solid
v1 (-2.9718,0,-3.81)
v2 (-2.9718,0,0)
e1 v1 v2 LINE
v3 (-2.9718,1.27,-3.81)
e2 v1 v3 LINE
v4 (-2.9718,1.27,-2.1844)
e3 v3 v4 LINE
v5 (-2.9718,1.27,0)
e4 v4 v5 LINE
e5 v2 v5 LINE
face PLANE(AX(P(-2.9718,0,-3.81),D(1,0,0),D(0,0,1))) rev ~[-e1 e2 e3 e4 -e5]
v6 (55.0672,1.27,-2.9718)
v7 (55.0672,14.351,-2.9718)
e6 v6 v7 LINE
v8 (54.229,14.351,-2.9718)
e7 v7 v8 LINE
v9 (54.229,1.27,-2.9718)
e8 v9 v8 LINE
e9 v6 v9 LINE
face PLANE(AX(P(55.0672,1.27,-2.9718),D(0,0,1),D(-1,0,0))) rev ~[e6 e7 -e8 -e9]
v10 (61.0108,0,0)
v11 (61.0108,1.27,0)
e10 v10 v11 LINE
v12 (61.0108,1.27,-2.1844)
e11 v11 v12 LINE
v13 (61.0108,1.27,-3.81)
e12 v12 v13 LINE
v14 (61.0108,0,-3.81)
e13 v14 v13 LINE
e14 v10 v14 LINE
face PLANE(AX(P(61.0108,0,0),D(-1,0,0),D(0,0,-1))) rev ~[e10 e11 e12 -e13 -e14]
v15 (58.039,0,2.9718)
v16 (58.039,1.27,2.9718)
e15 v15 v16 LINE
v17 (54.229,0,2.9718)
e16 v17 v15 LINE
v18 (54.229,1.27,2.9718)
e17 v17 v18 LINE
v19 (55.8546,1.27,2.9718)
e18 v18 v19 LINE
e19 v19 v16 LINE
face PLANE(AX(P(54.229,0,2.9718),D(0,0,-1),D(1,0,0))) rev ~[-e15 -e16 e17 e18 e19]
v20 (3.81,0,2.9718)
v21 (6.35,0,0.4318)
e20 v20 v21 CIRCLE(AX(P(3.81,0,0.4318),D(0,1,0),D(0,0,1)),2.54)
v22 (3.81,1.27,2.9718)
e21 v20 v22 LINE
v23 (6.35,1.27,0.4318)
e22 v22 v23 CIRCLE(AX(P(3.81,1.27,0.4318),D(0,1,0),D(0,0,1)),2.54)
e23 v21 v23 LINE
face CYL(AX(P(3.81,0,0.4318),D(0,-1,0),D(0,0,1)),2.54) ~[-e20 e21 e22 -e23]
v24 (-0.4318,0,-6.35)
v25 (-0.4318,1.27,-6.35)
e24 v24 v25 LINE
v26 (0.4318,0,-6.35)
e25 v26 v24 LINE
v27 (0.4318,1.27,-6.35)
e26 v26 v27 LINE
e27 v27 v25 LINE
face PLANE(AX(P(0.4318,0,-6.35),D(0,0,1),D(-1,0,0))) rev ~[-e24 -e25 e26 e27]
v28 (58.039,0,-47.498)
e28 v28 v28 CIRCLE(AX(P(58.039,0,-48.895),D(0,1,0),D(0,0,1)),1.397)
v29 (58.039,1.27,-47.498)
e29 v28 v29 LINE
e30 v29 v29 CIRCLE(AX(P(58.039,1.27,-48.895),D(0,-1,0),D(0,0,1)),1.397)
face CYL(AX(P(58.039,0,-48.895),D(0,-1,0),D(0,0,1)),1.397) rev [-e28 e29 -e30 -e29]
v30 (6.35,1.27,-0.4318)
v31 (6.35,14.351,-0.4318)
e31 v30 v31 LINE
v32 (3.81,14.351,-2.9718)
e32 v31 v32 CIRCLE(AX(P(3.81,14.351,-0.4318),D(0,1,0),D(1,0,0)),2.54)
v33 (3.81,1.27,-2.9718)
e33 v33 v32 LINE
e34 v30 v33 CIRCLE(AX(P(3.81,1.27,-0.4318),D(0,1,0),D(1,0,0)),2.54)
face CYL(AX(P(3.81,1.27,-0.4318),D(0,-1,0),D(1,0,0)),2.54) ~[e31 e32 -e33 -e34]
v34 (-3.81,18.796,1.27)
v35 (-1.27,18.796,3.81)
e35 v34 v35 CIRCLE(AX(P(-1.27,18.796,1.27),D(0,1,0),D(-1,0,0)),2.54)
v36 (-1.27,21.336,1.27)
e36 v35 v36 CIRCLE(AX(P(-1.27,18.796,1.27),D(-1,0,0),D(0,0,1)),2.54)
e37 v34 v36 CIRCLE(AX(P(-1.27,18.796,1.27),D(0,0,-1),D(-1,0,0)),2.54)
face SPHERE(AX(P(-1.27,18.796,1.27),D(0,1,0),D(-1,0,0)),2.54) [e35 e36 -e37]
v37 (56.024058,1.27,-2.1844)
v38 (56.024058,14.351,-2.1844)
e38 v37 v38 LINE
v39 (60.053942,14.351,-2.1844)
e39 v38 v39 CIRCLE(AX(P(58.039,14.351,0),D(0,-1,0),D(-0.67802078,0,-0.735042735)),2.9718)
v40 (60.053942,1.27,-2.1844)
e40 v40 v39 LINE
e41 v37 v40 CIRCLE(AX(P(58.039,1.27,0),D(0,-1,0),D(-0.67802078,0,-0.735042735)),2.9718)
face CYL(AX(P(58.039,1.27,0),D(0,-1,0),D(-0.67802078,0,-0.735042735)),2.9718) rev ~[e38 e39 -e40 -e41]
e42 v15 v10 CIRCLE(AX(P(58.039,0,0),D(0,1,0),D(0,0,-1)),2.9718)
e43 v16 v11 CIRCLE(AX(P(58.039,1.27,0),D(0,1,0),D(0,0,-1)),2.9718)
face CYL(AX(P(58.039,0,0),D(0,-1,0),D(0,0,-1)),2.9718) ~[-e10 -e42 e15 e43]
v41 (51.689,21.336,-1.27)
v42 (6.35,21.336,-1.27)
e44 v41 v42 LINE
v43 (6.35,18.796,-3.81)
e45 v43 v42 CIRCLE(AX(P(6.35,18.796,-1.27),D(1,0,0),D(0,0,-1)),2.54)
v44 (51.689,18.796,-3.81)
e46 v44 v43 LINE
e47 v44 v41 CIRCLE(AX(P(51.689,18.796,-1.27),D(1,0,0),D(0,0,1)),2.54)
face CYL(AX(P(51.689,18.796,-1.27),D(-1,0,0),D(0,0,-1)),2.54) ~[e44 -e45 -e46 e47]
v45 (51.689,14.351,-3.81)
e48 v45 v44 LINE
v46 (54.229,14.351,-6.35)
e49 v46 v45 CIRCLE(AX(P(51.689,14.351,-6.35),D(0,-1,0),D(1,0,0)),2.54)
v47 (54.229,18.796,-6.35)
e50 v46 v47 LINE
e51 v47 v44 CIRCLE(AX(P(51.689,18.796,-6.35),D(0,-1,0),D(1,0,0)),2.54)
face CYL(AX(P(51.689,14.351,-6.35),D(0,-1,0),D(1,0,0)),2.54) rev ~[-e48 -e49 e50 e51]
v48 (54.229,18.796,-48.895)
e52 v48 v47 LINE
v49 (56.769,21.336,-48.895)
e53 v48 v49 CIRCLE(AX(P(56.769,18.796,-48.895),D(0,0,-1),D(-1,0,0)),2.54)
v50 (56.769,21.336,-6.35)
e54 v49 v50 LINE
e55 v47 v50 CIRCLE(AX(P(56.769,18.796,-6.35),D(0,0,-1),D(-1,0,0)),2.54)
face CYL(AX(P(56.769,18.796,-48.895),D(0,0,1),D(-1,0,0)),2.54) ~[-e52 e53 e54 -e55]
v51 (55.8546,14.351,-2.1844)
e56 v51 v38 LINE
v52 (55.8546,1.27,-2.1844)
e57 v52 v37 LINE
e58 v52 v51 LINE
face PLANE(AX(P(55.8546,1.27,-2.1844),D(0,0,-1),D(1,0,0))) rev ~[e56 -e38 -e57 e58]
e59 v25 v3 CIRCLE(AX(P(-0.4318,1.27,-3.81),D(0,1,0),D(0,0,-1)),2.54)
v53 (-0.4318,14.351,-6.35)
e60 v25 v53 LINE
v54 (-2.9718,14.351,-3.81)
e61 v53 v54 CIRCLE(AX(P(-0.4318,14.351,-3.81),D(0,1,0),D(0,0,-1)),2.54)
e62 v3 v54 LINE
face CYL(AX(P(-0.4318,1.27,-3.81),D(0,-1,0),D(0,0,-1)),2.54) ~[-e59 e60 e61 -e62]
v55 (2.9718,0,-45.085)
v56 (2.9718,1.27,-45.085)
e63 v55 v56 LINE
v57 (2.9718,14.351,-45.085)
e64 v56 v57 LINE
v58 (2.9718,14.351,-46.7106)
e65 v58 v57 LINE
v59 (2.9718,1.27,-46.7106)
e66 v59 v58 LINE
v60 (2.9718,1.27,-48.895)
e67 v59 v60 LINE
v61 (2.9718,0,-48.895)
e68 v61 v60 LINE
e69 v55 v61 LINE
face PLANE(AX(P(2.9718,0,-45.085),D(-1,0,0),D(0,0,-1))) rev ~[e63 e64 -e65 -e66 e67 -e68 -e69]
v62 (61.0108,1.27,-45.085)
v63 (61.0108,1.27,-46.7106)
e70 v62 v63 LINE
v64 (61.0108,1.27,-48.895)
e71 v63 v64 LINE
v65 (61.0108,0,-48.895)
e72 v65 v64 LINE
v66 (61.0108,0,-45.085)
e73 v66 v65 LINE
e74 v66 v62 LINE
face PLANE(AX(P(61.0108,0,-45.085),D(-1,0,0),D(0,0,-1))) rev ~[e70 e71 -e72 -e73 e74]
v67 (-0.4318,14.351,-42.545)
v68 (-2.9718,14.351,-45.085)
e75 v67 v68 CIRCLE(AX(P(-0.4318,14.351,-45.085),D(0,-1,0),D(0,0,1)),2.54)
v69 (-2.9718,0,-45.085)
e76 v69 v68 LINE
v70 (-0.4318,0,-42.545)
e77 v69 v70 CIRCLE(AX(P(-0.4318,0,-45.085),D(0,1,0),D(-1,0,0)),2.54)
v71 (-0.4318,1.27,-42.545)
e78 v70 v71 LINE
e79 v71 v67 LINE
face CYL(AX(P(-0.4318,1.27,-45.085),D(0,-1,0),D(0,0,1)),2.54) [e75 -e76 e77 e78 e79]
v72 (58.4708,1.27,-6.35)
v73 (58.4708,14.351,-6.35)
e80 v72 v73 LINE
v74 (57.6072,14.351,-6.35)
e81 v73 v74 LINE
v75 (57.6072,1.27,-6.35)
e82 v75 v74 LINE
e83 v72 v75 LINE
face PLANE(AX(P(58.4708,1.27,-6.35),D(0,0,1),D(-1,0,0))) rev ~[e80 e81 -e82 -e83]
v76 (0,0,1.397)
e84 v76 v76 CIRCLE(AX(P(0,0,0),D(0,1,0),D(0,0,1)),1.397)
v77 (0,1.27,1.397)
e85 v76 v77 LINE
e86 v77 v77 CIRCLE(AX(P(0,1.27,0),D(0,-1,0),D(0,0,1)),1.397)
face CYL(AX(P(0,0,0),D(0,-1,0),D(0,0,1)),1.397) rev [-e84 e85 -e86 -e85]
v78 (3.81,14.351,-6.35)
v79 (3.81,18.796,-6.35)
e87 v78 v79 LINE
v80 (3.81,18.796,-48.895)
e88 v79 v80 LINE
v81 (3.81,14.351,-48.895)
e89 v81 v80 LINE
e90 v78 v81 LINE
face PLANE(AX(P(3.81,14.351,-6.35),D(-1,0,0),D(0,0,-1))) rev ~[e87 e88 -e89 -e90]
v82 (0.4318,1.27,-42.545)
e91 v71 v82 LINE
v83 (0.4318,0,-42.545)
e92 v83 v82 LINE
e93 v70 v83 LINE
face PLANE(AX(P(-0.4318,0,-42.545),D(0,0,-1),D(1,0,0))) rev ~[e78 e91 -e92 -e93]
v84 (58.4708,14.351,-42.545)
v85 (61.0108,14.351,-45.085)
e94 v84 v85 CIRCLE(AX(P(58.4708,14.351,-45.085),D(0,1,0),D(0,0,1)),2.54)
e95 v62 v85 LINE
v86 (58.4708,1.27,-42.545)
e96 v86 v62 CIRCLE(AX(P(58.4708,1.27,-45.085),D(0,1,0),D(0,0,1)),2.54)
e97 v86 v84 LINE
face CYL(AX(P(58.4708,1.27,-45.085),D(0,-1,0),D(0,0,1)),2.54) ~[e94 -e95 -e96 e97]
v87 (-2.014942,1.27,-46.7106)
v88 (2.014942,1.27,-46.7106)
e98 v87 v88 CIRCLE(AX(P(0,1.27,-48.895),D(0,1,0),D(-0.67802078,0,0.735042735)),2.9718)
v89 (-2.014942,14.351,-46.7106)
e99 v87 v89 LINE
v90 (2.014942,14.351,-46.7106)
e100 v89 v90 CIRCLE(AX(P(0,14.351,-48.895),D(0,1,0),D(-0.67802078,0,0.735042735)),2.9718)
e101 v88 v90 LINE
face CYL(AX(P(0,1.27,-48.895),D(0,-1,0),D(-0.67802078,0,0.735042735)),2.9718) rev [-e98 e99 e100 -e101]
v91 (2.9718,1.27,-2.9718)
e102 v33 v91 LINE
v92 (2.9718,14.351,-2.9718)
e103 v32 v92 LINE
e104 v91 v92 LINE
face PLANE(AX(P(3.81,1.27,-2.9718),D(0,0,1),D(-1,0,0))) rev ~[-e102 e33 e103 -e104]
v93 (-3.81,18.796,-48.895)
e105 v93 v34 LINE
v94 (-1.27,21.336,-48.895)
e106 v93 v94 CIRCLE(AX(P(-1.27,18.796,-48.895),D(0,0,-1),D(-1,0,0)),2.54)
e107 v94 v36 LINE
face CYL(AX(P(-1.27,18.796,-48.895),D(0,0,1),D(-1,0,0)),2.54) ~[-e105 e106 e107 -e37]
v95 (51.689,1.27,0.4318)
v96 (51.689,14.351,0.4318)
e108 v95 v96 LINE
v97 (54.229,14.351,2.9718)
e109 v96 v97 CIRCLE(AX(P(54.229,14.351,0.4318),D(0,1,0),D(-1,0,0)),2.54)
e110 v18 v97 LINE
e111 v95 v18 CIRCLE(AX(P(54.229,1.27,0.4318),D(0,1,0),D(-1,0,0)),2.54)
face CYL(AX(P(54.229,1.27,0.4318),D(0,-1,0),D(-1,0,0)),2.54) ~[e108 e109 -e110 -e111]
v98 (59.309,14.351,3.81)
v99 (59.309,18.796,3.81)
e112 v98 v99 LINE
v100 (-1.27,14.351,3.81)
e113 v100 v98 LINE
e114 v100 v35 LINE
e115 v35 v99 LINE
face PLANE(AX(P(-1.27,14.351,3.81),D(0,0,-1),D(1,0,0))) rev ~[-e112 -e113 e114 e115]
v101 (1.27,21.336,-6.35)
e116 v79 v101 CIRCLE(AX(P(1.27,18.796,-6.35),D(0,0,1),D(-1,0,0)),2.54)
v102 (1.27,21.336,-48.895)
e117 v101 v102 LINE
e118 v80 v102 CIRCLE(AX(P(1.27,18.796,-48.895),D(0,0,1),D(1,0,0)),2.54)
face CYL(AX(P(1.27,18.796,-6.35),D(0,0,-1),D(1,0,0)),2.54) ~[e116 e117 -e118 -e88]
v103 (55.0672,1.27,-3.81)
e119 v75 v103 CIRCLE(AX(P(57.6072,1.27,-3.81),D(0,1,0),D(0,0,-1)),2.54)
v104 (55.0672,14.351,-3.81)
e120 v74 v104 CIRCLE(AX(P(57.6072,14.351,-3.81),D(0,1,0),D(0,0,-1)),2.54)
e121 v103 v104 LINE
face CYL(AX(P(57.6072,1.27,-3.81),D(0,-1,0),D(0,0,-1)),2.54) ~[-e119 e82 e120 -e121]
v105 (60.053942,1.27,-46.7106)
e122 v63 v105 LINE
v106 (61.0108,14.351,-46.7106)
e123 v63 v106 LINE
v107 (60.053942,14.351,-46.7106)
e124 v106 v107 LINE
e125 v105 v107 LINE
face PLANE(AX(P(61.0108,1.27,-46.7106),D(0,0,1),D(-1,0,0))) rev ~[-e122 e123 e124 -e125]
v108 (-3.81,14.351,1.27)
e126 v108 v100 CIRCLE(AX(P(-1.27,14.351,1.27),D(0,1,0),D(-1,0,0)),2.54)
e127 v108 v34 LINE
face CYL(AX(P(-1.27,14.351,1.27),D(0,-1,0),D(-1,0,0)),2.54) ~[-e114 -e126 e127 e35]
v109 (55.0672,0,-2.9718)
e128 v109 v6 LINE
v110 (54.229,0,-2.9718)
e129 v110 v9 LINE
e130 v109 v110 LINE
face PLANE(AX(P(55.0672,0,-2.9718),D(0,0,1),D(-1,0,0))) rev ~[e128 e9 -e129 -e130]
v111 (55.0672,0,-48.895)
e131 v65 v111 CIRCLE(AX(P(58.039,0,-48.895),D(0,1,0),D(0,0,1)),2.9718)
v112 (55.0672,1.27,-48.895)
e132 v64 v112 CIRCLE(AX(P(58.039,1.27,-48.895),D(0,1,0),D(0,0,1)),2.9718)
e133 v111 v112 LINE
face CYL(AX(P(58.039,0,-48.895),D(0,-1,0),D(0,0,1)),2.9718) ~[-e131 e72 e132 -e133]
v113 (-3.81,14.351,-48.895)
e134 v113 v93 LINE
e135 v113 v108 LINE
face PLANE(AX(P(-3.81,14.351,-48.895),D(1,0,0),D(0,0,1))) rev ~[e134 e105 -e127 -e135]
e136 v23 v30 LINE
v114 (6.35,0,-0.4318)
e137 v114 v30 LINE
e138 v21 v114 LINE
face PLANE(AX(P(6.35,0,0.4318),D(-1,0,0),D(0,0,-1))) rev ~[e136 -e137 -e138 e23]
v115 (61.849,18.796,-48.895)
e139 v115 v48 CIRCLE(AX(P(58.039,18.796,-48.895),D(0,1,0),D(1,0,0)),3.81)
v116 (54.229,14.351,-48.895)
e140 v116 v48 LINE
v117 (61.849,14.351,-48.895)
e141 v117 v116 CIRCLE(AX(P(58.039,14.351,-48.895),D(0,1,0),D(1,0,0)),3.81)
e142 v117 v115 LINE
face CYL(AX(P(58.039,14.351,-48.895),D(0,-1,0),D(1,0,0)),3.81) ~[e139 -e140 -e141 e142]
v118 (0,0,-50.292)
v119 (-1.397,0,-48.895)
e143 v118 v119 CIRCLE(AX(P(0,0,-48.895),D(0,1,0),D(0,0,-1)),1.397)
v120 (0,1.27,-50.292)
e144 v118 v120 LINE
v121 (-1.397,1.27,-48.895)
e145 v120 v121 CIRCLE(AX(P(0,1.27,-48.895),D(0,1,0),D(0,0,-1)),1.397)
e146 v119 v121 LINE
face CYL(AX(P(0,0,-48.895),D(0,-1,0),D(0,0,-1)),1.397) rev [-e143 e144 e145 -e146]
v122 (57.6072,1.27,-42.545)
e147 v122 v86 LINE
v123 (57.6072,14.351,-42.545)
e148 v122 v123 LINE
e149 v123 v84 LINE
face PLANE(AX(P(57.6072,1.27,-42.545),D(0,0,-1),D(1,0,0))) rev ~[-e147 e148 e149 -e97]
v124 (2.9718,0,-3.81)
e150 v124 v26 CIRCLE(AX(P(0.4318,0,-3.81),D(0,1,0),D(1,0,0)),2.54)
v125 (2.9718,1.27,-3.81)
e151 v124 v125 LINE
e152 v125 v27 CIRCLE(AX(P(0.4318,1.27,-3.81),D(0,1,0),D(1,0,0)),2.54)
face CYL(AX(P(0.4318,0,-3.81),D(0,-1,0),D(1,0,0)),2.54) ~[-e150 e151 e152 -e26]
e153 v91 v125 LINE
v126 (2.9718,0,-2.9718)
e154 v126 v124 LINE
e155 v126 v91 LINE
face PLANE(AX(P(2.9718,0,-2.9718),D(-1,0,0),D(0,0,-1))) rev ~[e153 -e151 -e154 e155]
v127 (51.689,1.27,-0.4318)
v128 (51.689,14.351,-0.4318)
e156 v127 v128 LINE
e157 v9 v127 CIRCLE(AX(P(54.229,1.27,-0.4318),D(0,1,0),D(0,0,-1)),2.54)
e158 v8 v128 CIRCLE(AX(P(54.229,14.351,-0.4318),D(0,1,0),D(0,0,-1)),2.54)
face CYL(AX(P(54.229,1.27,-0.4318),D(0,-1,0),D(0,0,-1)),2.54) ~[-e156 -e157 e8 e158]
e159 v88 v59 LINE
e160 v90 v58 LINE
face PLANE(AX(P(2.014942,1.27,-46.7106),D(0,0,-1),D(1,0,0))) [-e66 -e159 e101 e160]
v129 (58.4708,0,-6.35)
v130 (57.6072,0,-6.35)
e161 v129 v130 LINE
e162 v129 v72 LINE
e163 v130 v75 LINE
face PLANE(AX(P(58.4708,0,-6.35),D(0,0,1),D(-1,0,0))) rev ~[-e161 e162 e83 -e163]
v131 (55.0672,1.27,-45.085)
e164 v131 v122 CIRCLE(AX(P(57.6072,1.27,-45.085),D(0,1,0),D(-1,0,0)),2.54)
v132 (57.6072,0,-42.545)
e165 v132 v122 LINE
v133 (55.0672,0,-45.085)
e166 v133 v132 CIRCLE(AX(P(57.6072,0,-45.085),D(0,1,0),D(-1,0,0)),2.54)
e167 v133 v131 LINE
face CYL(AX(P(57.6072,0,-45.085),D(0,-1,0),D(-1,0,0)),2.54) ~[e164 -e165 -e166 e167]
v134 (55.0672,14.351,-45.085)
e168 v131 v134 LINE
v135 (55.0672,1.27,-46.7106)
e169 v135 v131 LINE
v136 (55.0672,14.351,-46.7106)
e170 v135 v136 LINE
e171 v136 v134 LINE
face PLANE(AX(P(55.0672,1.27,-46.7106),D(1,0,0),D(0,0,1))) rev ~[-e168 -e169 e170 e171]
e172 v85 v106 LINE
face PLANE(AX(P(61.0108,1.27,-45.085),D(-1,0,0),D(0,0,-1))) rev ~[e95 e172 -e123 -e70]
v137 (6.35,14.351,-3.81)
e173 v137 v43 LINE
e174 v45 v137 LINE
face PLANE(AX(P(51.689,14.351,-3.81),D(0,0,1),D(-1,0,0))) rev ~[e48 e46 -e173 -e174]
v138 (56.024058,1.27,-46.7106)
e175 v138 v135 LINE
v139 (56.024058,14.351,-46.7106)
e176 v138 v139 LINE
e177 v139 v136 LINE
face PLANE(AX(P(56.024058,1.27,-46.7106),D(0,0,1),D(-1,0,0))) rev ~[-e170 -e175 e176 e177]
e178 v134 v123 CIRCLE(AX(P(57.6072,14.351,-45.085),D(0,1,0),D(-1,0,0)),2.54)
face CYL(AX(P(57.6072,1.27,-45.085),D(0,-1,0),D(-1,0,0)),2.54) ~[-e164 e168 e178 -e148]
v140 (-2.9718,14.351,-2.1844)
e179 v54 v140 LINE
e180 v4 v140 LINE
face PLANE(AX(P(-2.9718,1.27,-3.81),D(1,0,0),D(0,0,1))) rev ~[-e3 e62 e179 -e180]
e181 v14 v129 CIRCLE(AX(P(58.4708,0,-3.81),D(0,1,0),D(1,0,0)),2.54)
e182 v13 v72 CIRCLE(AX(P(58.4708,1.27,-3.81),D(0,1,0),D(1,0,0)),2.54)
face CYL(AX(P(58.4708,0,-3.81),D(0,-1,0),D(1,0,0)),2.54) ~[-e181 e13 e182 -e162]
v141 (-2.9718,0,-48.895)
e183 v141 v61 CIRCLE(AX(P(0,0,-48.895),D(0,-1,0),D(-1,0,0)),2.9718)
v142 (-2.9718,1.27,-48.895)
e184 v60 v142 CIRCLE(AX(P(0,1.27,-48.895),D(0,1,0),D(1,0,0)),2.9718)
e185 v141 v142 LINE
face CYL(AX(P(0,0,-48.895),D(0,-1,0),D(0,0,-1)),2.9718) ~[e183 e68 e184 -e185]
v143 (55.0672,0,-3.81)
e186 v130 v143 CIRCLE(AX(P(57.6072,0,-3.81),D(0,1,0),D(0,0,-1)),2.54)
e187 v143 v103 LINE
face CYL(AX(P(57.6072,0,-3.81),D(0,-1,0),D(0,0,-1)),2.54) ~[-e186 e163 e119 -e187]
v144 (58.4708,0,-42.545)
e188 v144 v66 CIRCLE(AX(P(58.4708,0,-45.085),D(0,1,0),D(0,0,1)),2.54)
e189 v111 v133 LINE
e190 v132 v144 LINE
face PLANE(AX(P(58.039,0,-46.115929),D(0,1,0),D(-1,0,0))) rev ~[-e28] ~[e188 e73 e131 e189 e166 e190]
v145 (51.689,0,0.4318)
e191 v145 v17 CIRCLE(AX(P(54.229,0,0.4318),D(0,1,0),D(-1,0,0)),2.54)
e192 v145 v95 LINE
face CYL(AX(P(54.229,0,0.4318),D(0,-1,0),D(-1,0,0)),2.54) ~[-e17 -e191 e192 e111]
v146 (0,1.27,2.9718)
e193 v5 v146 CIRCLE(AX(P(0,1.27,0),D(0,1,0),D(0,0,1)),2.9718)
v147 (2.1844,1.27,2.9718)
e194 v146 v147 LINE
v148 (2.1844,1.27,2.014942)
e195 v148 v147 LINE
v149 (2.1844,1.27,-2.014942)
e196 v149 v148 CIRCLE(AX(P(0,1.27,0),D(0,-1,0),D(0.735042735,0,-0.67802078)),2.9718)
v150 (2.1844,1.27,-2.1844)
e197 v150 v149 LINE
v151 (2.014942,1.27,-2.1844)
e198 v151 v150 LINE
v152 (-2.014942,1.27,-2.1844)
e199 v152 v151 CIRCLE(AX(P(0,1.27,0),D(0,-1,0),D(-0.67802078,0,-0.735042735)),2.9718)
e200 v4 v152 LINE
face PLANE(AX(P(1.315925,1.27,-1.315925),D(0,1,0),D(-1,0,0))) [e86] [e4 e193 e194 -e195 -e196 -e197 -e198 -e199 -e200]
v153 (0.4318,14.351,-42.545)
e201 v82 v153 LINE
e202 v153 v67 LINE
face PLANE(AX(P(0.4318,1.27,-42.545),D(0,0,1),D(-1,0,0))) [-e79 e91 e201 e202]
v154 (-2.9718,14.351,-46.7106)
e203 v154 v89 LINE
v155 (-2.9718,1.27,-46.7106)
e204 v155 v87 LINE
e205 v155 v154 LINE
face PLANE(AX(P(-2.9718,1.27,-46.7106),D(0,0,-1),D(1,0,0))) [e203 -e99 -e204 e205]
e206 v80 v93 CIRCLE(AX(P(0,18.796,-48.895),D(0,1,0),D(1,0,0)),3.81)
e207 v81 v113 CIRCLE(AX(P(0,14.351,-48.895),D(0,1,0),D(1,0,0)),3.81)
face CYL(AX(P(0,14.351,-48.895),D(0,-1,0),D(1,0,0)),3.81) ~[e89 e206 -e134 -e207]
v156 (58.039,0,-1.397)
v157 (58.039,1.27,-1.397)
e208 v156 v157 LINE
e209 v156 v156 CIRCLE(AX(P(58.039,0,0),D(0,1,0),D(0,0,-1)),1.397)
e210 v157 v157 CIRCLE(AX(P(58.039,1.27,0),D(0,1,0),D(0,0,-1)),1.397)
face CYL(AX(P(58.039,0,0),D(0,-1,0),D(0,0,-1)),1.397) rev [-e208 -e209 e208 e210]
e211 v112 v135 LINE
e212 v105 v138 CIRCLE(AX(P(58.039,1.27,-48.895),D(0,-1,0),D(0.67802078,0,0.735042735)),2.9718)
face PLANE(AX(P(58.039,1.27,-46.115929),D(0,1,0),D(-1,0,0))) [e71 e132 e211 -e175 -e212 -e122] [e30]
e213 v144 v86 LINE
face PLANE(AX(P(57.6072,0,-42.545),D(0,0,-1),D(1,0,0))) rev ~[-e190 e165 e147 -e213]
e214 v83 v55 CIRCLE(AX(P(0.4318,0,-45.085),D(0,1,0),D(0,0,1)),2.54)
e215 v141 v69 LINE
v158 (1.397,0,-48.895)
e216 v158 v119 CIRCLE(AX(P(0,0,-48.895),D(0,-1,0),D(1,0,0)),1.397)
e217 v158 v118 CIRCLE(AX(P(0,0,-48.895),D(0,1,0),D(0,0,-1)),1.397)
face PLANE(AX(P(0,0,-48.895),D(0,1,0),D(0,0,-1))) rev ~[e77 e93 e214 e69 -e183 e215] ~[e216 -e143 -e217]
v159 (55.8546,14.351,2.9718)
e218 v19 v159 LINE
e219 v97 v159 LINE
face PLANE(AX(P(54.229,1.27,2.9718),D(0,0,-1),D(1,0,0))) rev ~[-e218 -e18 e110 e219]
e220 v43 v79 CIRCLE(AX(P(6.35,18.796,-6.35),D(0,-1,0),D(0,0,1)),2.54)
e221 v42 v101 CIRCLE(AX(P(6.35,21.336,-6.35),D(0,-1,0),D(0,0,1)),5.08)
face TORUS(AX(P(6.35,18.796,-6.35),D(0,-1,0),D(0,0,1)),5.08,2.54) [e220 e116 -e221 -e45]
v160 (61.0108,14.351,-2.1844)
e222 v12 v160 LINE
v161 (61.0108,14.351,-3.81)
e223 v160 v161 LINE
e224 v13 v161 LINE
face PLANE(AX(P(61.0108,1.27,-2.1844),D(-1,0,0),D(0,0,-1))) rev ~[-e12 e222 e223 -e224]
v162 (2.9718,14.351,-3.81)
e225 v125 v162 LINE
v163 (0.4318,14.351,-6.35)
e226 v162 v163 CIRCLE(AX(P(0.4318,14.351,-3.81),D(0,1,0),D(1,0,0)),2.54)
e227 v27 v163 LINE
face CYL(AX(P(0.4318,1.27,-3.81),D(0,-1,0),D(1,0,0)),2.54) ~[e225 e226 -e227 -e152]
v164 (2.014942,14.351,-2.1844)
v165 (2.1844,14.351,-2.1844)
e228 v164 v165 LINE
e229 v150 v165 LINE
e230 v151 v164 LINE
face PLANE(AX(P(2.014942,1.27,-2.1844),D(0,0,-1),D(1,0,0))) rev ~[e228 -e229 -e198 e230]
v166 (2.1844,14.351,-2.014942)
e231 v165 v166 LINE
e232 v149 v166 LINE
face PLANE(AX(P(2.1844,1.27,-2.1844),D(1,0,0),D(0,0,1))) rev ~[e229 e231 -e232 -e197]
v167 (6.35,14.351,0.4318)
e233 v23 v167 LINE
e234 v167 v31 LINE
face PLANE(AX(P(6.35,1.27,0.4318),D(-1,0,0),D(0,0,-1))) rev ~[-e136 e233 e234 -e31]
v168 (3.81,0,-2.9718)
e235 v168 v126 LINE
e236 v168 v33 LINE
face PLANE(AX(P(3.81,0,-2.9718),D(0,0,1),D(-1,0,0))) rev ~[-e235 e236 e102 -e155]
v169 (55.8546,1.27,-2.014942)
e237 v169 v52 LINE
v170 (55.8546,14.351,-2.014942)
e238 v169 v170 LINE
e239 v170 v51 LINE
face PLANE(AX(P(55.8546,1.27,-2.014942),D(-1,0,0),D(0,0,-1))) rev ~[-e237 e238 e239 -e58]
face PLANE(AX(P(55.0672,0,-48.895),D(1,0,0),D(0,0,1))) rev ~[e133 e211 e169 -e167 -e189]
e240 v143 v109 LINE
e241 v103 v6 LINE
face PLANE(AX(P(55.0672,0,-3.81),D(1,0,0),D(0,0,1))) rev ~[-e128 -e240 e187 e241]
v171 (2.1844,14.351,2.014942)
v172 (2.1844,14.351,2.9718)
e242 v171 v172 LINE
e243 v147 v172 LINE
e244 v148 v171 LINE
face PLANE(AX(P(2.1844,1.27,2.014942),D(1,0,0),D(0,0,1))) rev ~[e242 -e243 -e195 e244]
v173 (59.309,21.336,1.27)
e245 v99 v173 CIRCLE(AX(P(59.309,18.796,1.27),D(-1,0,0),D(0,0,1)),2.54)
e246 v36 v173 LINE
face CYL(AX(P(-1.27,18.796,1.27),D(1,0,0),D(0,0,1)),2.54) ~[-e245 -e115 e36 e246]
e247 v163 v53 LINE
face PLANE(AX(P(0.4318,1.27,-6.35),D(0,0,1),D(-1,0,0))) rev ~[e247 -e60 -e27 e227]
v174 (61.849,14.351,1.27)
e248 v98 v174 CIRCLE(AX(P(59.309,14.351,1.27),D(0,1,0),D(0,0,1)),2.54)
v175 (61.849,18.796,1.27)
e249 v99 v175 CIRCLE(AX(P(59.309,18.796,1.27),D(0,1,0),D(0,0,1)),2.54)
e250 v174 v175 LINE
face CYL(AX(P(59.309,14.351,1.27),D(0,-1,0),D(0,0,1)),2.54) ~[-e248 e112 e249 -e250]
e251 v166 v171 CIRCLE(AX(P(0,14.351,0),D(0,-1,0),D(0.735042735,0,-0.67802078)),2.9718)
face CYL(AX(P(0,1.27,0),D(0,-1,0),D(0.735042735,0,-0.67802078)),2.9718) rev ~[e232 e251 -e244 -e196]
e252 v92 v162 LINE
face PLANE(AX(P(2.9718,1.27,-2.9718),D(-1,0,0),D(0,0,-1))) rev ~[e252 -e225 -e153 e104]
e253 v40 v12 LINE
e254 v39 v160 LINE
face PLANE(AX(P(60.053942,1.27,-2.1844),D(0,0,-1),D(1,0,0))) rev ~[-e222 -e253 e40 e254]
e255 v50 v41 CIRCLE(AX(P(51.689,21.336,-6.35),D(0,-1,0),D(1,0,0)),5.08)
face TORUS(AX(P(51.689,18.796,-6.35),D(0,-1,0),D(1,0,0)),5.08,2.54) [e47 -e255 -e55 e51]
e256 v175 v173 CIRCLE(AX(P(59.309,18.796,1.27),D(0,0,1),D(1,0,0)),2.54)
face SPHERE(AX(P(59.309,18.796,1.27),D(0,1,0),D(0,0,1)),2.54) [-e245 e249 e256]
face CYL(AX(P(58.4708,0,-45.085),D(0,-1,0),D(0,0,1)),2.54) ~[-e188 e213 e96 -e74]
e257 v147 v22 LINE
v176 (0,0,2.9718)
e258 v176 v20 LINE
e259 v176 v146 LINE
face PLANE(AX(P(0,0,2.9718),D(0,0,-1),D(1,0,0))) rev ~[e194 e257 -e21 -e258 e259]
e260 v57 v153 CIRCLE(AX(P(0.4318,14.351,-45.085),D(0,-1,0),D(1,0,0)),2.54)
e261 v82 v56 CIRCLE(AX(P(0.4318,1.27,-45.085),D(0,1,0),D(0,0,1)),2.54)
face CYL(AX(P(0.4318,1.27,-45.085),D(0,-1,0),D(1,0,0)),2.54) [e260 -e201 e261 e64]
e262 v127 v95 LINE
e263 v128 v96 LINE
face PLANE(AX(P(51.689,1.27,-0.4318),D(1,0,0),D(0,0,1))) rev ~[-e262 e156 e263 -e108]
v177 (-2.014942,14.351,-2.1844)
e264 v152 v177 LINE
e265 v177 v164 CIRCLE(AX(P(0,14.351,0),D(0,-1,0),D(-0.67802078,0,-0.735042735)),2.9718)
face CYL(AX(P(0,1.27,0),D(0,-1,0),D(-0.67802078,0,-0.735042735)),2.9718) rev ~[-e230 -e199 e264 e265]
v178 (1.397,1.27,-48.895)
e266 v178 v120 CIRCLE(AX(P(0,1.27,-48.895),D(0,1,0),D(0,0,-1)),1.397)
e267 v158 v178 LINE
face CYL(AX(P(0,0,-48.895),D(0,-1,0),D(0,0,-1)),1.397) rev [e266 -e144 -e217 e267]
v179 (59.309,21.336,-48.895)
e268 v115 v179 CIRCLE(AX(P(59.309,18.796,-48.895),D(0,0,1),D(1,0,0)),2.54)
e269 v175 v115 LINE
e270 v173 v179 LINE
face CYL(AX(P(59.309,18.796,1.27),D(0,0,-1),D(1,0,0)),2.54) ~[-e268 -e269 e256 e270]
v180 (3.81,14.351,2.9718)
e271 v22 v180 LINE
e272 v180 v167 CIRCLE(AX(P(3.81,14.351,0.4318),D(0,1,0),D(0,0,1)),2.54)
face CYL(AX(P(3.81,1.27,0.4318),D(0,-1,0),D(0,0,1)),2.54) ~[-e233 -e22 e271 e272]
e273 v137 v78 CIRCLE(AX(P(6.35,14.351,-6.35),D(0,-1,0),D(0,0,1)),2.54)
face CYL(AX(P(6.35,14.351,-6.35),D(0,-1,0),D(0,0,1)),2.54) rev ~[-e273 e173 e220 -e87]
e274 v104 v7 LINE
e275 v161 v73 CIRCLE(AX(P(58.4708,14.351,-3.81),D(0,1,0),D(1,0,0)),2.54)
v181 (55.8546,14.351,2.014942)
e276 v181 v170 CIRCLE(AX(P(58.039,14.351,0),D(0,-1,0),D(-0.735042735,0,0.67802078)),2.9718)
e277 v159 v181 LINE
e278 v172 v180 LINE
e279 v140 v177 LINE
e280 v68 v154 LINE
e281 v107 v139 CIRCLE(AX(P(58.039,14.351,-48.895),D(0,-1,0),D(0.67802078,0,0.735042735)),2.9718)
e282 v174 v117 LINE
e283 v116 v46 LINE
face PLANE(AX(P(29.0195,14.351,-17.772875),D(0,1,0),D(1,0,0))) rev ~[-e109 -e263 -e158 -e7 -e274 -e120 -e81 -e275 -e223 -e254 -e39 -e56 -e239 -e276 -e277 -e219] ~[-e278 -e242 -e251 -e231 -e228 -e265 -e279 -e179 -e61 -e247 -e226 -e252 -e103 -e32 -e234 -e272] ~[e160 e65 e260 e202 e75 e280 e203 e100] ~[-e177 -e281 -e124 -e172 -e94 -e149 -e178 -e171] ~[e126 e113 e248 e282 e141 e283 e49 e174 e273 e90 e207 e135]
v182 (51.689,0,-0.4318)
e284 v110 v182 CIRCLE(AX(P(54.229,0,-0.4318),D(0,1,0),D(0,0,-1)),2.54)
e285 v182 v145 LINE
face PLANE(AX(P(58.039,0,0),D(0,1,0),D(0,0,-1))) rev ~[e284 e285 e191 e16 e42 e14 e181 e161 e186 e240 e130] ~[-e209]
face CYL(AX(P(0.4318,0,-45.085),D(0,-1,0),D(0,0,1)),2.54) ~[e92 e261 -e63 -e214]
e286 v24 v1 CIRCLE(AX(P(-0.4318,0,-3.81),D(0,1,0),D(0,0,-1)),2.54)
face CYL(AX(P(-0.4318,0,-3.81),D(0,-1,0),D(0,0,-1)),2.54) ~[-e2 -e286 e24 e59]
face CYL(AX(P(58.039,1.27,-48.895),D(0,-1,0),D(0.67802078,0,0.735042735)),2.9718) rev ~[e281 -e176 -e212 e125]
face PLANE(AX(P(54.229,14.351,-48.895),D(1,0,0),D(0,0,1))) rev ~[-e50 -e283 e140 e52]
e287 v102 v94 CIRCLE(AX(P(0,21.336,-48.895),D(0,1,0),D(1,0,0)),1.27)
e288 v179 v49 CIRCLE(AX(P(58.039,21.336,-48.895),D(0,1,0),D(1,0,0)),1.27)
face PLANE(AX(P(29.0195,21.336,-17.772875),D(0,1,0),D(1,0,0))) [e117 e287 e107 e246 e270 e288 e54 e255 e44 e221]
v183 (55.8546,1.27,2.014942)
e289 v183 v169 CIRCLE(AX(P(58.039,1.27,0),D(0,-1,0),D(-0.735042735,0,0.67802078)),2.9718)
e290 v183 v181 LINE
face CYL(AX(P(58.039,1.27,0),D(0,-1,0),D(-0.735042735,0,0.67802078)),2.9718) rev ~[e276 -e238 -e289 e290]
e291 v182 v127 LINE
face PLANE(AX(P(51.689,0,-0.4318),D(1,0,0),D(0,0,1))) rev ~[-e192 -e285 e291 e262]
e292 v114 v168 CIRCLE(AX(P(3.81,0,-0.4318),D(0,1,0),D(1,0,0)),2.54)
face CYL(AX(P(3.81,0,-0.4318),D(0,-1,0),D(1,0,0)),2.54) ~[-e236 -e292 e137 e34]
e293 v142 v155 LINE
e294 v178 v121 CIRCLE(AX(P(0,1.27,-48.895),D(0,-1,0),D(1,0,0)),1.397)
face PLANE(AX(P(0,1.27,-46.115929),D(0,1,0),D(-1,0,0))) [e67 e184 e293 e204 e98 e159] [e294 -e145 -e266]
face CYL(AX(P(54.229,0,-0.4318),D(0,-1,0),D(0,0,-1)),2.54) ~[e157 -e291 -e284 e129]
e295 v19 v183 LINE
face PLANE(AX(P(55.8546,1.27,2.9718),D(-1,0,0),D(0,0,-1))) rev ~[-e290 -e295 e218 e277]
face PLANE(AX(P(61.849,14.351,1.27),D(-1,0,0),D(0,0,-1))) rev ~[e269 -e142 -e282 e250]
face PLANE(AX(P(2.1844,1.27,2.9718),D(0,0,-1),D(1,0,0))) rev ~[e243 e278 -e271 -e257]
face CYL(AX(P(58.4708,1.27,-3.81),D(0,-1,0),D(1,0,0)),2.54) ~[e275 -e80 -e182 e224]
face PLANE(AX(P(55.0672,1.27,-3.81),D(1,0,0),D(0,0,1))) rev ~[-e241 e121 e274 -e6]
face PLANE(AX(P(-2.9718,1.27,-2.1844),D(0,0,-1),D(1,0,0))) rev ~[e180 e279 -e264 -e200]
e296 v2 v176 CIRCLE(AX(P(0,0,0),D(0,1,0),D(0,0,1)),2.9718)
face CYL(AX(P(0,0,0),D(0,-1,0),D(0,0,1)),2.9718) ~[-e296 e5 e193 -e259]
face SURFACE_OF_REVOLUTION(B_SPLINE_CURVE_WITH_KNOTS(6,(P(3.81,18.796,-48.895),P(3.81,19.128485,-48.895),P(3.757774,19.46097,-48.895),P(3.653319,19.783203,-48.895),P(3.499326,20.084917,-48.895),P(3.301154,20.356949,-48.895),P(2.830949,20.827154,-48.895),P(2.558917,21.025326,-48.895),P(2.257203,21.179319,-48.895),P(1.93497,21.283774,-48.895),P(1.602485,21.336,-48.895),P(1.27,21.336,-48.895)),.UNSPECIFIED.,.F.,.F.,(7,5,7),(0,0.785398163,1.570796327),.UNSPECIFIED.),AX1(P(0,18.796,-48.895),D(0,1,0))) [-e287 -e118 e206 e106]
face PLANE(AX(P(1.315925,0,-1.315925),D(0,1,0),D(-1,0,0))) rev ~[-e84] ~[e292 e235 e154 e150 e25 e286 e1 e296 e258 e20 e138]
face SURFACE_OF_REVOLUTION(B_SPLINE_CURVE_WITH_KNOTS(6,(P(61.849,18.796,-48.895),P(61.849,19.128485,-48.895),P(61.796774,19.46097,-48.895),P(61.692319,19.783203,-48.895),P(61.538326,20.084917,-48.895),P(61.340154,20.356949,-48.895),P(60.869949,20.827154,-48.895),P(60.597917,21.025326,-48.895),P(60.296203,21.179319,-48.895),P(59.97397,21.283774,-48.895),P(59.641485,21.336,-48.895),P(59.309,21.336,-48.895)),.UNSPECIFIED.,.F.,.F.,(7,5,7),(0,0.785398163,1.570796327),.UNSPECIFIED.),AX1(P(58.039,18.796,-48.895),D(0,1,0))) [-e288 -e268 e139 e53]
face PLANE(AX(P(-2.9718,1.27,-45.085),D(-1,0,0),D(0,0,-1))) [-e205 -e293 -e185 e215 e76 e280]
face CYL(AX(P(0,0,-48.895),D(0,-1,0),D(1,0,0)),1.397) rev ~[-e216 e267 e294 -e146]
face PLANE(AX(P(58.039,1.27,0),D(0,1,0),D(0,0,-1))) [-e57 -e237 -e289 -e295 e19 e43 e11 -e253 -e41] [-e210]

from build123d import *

# Parameters (mm, degrees)
SKETCH1_R             = 2.9718
SKETCH1_R_2           = 1.397
BOSS_EXTRUDE1_DEPTH   = 1.27
BOSS_EXTRUDE1_2_DEPTH = 1.27
BOSS_EXTRUDE1_3_DEPTH = 1.27
BOSS_EXTRUDE1_4_DEPTH = 1.27
BOSS_EXTRUDE2_DEPTH   = 6.985
FILLET1_R             = 2.54
BOSS_EXTRUDE3_DEPTH   = 1.27
BOSS_EXTRUDE4_DEPTH   = 13.081


with BuildPart() as part:
    # Sketch1 → Boss-Extrude1 (new body)
    with BuildSketch(Plane(origin=(0, 0, 0), x_dir=(1, 0, 0), z_dir=(0, 1, 0))):
        with Locations(Location((0, 0, 0), (0, 0, 270))):
            Circle(SKETCH1_R)
        with Locations(Location((0, 0, 0), (0, 0, 270))):
            Circle(SKETCH1_R_2, mode=Mode.SUBTRACT)
    extrude(amount=BOSS_EXTRUDE1_DEPTH)



with BuildPart() as body_2:
    # Sketch1 → Boss-Extrude1 2 (new body)
    with BuildSketch(Plane(origin=(0, 0, 0), x_dir=(1, 0, 0), z_dir=(0, 1, 0))):
        with Locations(Location((58.039, 0, 0), (0, 0, 90))):
            Circle(SKETCH1_R)
        with Locations(Location((58.039, 0, 0), (0, 0, 90))):
            Circle(SKETCH1_R_2, mode=Mode.SUBTRACT)
    extrude(amount=BOSS_EXTRUDE1_2_DEPTH)


with BuildPart() as body_3:
    # Sketch1 → Boss-Extrude1 3 (new body)
    with BuildSketch(Plane(origin=(0, 0, 0), x_dir=(1, 0, 0), z_dir=(0, 1, 0))):
        with Locations(Location((58.039, 48.895, 0), (0, 0, 270))):
            Circle(SKETCH1_R)
        with Locations(Location((58.039, 48.895, 0), (0, 0, 270))):
            Circle(SKETCH1_R_2, mode=Mode.SUBTRACT)
    extrude(amount=BOSS_EXTRUDE1_3_DEPTH)


with BuildPart() as body_4:
    # Sketch1 → Boss-Extrude1 4 (new body)
    with BuildSketch(Plane(origin=(0, 0, 0), x_dir=(1, 0, 0), z_dir=(0, 1, 0))):
        with Locations(Location((0, 48.895, 0), (0, 0, 90))):
            Circle(SKETCH1_R)
        with Locations(Location((0, 48.895, 0), (0, 0, 90))):
            Circle(SKETCH1_R_2, mode=Mode.SUBTRACT)
    extrude(amount=BOSS_EXTRUDE1_4_DEPTH)


with BuildPart() as body_5:
    # Sketch2 → Boss-Extrude2 (new body)
    with BuildSketch(Plane(origin=(0, 14.351, 0), x_dir=(1, 0, 0), z_dir=(0, 1, 0))):
        with BuildLine():
            Line((-3.81, 48.895), (-3.81, -1.27))
            ThreePointArc((-3.81, -1.27), (-3.066051224, -3.066051224), (-1.27, -3.81))
            Line((-1.27, -3.81), (59.309, -3.81))
            ThreePointArc((59.309, -3.81), (61.105051224, -3.066051224), (61.849, -1.27))
            Line((61.849, -1.27), (61.849, 48.895))
            ThreePointArc((61.849, 48.895), (58.039, 52.705), (54.229, 48.895))
            Line((54.229, 48.895), (54.229, 6.35))
            ThreePointArc((54.229, 6.35), (53.485051224, 4.553948776), (51.689, 3.81))
            Line((51.689, 3.81), (6.35, 3.81))
            ThreePointArc((6.35, 3.81), (4.553948776, 4.553948776), (3.81, 6.35))
            Line((3.81, 6.35), (3.81, 48.895))
            ThreePointArc((3.81, 48.895), (0, 52.705), (-3.81, 48.895))
        make_face()
    extrude(amount=BOSS_EXTRUDE2_DEPTH)

    # Fillet1
    fillet1_edges = [body_5.edges().sort_by_distance(p)[0] for p in [
        (-3.066051224, 21.336, 3.066051224),
        (29.0195, 21.336, 3.81),
        (61.105051224, 21.336, 3.066051224),
        (61.849, 21.336, -23.8125),
        (58.039, 21.336, -52.705),
        (54.229, 21.336, -27.6225),
        (53.485051224, 21.336, -4.553948776),
        (29.0195, 21.336, -3.81),
        (4.553948776, 21.336, -4.553948776),
        (3.81, 21.336, -27.6225),
        (0, 21.336, -52.705),
        (-3.81, 21.336, -23.8125),
    ]]
    fillet(fillet1_edges, radius=FILLET1_R)


with BuildPart() as part_1:
    add(part.part)

    add(body_2.part)  # Boss-Extrude3 merges body 2

    add(body_3.part)  # Boss-Extrude3 merges body 3

    add(body_4.part)  # Boss-Extrude3 merges body 4
    # Sketch3 → Boss-Extrude3 (add)
    with BuildSketch(Plane.XZ):
        with BuildLine():
            Line((-1.397, -48.895), (-2.9718, -48.895))
            Line((-2.9718, -48.895), (-2.9718, -45.085))
            ThreePointArc((-2.9718, -45.085), (-2.227851224, -43.288948776), (-0.4318, -42.545))
            Line((-0.4318, -42.545), (0.4318, -42.545))
            ThreePointArc((0.4318, -42.545), (2.227851224, -43.288948776), (2.9718, -45.085))
            Line((2.9718, -45.085), (2.9718, -48.895))
            Line((2.9718, -48.895), (1.397, -48.895))
            ThreePointArc((1.397, -48.895), (0, -47.498), (-1.397, -48.895))
        make_face()
        with BuildLine():
            Line((-2.9718, -3.81), (-2.9718, 0))
            Line((-2.9718, 0), (-1.397, 0))
            ThreePointArc((-1.397, 0), (0.987828173, -0.987828173), (0, 1.397))
            Line((0, 1.397), (0, 2.9718))
            Line((0, 2.9718), (3.81, 2.9718))
            ThreePointArc((3.81, 2.9718), (5.606051224, 2.227851224), (6.35, 0.4318))
            Line((6.35, 0.4318), (6.35, -0.4318))
            ThreePointArc((6.35, -0.4318), (5.606051224, -2.227851224), (3.81, -2.9718))
            Line((3.81, -2.9718), (2.9718, -2.9718))
            Line((2.9718, -2.9718), (2.9718, -3.81))
            ThreePointArc((2.9718, -3.81), (2.227851224, -5.606051224), (0.4318, -6.35))
            Line((0.4318, -6.35), (-0.4318, -6.35))
            ThreePointArc((-0.4318, -6.35), (-2.227851224, -5.606051224), (-2.9718, -3.81))
        make_face()
        with BuildLine():
            Line((59.436, 0), (61.0108, 0))
            Line((61.0108, 0), (61.0108, -3.81))
            ThreePointArc((61.0108, -3.81), (60.266851224, -5.606051224), (58.4708, -6.35))
            Line((58.4708, -6.35), (57.6072, -6.35))
            ThreePointArc((57.6072, -6.35), (55.811148776, -5.606051224), (55.0672, -3.81))
            Line((55.0672, -3.81), (55.0672, -2.9718))
            Line((55.0672, -2.9718), (54.229, -2.9718))
            ThreePointArc((54.229, -2.9718), (52.432948776, -2.227851224), (51.689, -0.4318))
            Line((51.689, -0.4318), (51.689, 0.4318))
            ThreePointArc((51.689, 0.4318), (52.432948776, 2.227851224), (54.229, 2.9718))
            Line((54.229, 2.9718), (58.039, 2.9718))
            Line((58.039, 2.9718), (58.039, 1.397))
            ThreePointArc((58.039, 1.397), (57.051171827, -0.987828173), (59.436, 0))
        make_face()
        with BuildLine():
            Line((61.0108, -45.085), (61.0108, -48.895))
            Line((61.0108, -48.895), (59.436, -48.895))
            ThreePointArc((59.436, -48.895), (58.039, -47.498), (56.642, -48.895))
            Line((56.642, -48.895), (55.0672, -48.895))
            Line((55.0672, -48.895), (55.0672, -45.085))
            ThreePointArc((55.0672, -45.085), (55.811148776, -43.288948776), (57.6072, -42.545))
            Line((57.6072, -42.545), (58.4708, -42.545))
            ThreePointArc((58.4708, -42.545), (60.266851224, -43.288948776), (61.0108, -45.085))
        make_face()
    extrude(amount=-BOSS_EXTRUDE3_DEPTH)


    add(body_5.part)  # Boss-Extrude4 merges body 5
    # Sketch4 → Boss-Extrude4 (add)
    with BuildSketch(Plane(origin=(0, 1.27, 0), x_dir=(1, 0, 0), z_dir=(0, 1, 0))):
        with BuildLine():
            Line((-2.9718, 46.7106), (-2.014942153, 46.7106))
            ThreePointArc((-2.014942153, 46.7106), (0, 45.9232), (2.014942153, 46.7106))
            Line((2.014942153, 46.7106), (2.9718, 46.7106))
            Line((2.9718, 46.7106), (2.9718, 45.085))
            ThreePointArc((2.9718, 45.085), (2.227851224, 43.288948776), (0.4318, 42.545))
            Line((0.4318, 42.545), (-0.4318, 42.545))
            ThreePointArc((-0.4318, 42.545), (-2.227851224, 43.288948776), (-2.9718, 45.085))
            Line((-2.9718, 45.085), (-2.9718, 46.7106))
        make_face()
        with BuildLine():
            Line((56.024057847, 46.7106), (55.0672, 46.7106))
            Line((55.0672, 46.7106), (55.0672, 45.085))
            ThreePointArc((55.0672, 45.085), (55.811148776, 43.288948776), (57.6072, 42.545))
            Line((57.6072, 42.545), (58.4708, 42.545))
            ThreePointArc((58.4708, 42.545), (60.266851224, 43.288948776), (61.0108, 45.085))
            Line((61.0108, 45.085), (61.0108, 46.7106))
            Line((61.0108, 46.7106), (60.053942153, 46.7106))
            ThreePointArc((60.053942153, 46.7106), (58.039, 45.9232), (56.024057847, 46.7106))
        make_face()
        with BuildLine():
            Line((2.014942153, 2.1844), (2.1844, 2.1844))
            Line((2.1844, 2.1844), (2.1844, 2.014942153))
            ThreePointArc((2.1844, 2.014942153), (2.9718, 0), (2.1844, -2.014942153))
            Line((2.1844, -2.014942153), (2.1844, -2.9718))
            Line((2.1844, -2.9718), (3.81, -2.9718))
            ThreePointArc((3.81, -2.9718), (5.606051224, -2.227851224), (6.35, -0.4318))
            Line((6.35, -0.4318), (6.35, 0.4318))
            ThreePointArc((6.35, 0.4318), (5.606051224, 2.227851224), (3.81, 2.9718))
            Line((3.81, 2.9718), (2.9718, 2.9718))
            Line((2.9718, 2.9718), (2.9718, 3.81))
            ThreePointArc((2.9718, 3.81), (2.227851224, 5.606051224), (0.4318, 6.35))
            Line((0.4318, 6.35), (-0.4318, 6.35))
            ThreePointArc((-0.4318, 6.35), (-2.227851224, 5.606051224), (-2.9718, 3.81))
            Line((-2.9718, 3.81), (-2.9718, 2.1844))
            Line((-2.9718, 2.1844), (-2.014942153, 2.1844))
            ThreePointArc((-2.014942153, 2.1844), (0, 2.9718), (2.014942153, 2.1844))
        make_face()
        with BuildLine():
            Line((55.8546, 2.014942153), (55.8546, 2.1844))
            Line((55.8546, 2.1844), (56.024057847, 2.1844))
            ThreePointArc((56.024057847, 2.1844), (58.039, 2.9718), (60.053942153, 2.1844))
            Line((60.053942153, 2.1844), (61.0108, 2.1844))
            Line((61.0108, 2.1844), (61.0108, 3.81))
            ThreePointArc((61.0108, 3.81), (60.266851224, 5.606051224), (58.4708, 6.35))
            Line((58.4708, 6.35), (57.6072, 6.35))
            ThreePointArc((57.6072, 6.35), (55.811148776, 5.606051224), (55.0672, 3.81))
            Line((55.0672, 3.81), (55.0672, 2.9718))
            Line((55.0672, 2.9718), (54.229, 2.9718))
            ThreePointArc((54.229, 2.9718), (52.432948776, 2.227851224), (51.689, 0.4318))
            Line((51.689, 0.4318), (51.689, -0.4318))
            ThreePointArc((51.689, -0.4318), (52.432948776, -2.227851224), (54.229, -2.9718))
            Line((54.229, -2.9718), (55.8546, -2.9718))
            Line((55.8546, -2.9718), (55.8546, -2.014942153))
            ThreePointArc((55.8546, -2.014942153), (55.0672, 0), (55.8546, 2.014942153))
        make_face()
    extrude(amount=BOSS_EXTRUDE4_DEPTH)


solid = part_1.part
